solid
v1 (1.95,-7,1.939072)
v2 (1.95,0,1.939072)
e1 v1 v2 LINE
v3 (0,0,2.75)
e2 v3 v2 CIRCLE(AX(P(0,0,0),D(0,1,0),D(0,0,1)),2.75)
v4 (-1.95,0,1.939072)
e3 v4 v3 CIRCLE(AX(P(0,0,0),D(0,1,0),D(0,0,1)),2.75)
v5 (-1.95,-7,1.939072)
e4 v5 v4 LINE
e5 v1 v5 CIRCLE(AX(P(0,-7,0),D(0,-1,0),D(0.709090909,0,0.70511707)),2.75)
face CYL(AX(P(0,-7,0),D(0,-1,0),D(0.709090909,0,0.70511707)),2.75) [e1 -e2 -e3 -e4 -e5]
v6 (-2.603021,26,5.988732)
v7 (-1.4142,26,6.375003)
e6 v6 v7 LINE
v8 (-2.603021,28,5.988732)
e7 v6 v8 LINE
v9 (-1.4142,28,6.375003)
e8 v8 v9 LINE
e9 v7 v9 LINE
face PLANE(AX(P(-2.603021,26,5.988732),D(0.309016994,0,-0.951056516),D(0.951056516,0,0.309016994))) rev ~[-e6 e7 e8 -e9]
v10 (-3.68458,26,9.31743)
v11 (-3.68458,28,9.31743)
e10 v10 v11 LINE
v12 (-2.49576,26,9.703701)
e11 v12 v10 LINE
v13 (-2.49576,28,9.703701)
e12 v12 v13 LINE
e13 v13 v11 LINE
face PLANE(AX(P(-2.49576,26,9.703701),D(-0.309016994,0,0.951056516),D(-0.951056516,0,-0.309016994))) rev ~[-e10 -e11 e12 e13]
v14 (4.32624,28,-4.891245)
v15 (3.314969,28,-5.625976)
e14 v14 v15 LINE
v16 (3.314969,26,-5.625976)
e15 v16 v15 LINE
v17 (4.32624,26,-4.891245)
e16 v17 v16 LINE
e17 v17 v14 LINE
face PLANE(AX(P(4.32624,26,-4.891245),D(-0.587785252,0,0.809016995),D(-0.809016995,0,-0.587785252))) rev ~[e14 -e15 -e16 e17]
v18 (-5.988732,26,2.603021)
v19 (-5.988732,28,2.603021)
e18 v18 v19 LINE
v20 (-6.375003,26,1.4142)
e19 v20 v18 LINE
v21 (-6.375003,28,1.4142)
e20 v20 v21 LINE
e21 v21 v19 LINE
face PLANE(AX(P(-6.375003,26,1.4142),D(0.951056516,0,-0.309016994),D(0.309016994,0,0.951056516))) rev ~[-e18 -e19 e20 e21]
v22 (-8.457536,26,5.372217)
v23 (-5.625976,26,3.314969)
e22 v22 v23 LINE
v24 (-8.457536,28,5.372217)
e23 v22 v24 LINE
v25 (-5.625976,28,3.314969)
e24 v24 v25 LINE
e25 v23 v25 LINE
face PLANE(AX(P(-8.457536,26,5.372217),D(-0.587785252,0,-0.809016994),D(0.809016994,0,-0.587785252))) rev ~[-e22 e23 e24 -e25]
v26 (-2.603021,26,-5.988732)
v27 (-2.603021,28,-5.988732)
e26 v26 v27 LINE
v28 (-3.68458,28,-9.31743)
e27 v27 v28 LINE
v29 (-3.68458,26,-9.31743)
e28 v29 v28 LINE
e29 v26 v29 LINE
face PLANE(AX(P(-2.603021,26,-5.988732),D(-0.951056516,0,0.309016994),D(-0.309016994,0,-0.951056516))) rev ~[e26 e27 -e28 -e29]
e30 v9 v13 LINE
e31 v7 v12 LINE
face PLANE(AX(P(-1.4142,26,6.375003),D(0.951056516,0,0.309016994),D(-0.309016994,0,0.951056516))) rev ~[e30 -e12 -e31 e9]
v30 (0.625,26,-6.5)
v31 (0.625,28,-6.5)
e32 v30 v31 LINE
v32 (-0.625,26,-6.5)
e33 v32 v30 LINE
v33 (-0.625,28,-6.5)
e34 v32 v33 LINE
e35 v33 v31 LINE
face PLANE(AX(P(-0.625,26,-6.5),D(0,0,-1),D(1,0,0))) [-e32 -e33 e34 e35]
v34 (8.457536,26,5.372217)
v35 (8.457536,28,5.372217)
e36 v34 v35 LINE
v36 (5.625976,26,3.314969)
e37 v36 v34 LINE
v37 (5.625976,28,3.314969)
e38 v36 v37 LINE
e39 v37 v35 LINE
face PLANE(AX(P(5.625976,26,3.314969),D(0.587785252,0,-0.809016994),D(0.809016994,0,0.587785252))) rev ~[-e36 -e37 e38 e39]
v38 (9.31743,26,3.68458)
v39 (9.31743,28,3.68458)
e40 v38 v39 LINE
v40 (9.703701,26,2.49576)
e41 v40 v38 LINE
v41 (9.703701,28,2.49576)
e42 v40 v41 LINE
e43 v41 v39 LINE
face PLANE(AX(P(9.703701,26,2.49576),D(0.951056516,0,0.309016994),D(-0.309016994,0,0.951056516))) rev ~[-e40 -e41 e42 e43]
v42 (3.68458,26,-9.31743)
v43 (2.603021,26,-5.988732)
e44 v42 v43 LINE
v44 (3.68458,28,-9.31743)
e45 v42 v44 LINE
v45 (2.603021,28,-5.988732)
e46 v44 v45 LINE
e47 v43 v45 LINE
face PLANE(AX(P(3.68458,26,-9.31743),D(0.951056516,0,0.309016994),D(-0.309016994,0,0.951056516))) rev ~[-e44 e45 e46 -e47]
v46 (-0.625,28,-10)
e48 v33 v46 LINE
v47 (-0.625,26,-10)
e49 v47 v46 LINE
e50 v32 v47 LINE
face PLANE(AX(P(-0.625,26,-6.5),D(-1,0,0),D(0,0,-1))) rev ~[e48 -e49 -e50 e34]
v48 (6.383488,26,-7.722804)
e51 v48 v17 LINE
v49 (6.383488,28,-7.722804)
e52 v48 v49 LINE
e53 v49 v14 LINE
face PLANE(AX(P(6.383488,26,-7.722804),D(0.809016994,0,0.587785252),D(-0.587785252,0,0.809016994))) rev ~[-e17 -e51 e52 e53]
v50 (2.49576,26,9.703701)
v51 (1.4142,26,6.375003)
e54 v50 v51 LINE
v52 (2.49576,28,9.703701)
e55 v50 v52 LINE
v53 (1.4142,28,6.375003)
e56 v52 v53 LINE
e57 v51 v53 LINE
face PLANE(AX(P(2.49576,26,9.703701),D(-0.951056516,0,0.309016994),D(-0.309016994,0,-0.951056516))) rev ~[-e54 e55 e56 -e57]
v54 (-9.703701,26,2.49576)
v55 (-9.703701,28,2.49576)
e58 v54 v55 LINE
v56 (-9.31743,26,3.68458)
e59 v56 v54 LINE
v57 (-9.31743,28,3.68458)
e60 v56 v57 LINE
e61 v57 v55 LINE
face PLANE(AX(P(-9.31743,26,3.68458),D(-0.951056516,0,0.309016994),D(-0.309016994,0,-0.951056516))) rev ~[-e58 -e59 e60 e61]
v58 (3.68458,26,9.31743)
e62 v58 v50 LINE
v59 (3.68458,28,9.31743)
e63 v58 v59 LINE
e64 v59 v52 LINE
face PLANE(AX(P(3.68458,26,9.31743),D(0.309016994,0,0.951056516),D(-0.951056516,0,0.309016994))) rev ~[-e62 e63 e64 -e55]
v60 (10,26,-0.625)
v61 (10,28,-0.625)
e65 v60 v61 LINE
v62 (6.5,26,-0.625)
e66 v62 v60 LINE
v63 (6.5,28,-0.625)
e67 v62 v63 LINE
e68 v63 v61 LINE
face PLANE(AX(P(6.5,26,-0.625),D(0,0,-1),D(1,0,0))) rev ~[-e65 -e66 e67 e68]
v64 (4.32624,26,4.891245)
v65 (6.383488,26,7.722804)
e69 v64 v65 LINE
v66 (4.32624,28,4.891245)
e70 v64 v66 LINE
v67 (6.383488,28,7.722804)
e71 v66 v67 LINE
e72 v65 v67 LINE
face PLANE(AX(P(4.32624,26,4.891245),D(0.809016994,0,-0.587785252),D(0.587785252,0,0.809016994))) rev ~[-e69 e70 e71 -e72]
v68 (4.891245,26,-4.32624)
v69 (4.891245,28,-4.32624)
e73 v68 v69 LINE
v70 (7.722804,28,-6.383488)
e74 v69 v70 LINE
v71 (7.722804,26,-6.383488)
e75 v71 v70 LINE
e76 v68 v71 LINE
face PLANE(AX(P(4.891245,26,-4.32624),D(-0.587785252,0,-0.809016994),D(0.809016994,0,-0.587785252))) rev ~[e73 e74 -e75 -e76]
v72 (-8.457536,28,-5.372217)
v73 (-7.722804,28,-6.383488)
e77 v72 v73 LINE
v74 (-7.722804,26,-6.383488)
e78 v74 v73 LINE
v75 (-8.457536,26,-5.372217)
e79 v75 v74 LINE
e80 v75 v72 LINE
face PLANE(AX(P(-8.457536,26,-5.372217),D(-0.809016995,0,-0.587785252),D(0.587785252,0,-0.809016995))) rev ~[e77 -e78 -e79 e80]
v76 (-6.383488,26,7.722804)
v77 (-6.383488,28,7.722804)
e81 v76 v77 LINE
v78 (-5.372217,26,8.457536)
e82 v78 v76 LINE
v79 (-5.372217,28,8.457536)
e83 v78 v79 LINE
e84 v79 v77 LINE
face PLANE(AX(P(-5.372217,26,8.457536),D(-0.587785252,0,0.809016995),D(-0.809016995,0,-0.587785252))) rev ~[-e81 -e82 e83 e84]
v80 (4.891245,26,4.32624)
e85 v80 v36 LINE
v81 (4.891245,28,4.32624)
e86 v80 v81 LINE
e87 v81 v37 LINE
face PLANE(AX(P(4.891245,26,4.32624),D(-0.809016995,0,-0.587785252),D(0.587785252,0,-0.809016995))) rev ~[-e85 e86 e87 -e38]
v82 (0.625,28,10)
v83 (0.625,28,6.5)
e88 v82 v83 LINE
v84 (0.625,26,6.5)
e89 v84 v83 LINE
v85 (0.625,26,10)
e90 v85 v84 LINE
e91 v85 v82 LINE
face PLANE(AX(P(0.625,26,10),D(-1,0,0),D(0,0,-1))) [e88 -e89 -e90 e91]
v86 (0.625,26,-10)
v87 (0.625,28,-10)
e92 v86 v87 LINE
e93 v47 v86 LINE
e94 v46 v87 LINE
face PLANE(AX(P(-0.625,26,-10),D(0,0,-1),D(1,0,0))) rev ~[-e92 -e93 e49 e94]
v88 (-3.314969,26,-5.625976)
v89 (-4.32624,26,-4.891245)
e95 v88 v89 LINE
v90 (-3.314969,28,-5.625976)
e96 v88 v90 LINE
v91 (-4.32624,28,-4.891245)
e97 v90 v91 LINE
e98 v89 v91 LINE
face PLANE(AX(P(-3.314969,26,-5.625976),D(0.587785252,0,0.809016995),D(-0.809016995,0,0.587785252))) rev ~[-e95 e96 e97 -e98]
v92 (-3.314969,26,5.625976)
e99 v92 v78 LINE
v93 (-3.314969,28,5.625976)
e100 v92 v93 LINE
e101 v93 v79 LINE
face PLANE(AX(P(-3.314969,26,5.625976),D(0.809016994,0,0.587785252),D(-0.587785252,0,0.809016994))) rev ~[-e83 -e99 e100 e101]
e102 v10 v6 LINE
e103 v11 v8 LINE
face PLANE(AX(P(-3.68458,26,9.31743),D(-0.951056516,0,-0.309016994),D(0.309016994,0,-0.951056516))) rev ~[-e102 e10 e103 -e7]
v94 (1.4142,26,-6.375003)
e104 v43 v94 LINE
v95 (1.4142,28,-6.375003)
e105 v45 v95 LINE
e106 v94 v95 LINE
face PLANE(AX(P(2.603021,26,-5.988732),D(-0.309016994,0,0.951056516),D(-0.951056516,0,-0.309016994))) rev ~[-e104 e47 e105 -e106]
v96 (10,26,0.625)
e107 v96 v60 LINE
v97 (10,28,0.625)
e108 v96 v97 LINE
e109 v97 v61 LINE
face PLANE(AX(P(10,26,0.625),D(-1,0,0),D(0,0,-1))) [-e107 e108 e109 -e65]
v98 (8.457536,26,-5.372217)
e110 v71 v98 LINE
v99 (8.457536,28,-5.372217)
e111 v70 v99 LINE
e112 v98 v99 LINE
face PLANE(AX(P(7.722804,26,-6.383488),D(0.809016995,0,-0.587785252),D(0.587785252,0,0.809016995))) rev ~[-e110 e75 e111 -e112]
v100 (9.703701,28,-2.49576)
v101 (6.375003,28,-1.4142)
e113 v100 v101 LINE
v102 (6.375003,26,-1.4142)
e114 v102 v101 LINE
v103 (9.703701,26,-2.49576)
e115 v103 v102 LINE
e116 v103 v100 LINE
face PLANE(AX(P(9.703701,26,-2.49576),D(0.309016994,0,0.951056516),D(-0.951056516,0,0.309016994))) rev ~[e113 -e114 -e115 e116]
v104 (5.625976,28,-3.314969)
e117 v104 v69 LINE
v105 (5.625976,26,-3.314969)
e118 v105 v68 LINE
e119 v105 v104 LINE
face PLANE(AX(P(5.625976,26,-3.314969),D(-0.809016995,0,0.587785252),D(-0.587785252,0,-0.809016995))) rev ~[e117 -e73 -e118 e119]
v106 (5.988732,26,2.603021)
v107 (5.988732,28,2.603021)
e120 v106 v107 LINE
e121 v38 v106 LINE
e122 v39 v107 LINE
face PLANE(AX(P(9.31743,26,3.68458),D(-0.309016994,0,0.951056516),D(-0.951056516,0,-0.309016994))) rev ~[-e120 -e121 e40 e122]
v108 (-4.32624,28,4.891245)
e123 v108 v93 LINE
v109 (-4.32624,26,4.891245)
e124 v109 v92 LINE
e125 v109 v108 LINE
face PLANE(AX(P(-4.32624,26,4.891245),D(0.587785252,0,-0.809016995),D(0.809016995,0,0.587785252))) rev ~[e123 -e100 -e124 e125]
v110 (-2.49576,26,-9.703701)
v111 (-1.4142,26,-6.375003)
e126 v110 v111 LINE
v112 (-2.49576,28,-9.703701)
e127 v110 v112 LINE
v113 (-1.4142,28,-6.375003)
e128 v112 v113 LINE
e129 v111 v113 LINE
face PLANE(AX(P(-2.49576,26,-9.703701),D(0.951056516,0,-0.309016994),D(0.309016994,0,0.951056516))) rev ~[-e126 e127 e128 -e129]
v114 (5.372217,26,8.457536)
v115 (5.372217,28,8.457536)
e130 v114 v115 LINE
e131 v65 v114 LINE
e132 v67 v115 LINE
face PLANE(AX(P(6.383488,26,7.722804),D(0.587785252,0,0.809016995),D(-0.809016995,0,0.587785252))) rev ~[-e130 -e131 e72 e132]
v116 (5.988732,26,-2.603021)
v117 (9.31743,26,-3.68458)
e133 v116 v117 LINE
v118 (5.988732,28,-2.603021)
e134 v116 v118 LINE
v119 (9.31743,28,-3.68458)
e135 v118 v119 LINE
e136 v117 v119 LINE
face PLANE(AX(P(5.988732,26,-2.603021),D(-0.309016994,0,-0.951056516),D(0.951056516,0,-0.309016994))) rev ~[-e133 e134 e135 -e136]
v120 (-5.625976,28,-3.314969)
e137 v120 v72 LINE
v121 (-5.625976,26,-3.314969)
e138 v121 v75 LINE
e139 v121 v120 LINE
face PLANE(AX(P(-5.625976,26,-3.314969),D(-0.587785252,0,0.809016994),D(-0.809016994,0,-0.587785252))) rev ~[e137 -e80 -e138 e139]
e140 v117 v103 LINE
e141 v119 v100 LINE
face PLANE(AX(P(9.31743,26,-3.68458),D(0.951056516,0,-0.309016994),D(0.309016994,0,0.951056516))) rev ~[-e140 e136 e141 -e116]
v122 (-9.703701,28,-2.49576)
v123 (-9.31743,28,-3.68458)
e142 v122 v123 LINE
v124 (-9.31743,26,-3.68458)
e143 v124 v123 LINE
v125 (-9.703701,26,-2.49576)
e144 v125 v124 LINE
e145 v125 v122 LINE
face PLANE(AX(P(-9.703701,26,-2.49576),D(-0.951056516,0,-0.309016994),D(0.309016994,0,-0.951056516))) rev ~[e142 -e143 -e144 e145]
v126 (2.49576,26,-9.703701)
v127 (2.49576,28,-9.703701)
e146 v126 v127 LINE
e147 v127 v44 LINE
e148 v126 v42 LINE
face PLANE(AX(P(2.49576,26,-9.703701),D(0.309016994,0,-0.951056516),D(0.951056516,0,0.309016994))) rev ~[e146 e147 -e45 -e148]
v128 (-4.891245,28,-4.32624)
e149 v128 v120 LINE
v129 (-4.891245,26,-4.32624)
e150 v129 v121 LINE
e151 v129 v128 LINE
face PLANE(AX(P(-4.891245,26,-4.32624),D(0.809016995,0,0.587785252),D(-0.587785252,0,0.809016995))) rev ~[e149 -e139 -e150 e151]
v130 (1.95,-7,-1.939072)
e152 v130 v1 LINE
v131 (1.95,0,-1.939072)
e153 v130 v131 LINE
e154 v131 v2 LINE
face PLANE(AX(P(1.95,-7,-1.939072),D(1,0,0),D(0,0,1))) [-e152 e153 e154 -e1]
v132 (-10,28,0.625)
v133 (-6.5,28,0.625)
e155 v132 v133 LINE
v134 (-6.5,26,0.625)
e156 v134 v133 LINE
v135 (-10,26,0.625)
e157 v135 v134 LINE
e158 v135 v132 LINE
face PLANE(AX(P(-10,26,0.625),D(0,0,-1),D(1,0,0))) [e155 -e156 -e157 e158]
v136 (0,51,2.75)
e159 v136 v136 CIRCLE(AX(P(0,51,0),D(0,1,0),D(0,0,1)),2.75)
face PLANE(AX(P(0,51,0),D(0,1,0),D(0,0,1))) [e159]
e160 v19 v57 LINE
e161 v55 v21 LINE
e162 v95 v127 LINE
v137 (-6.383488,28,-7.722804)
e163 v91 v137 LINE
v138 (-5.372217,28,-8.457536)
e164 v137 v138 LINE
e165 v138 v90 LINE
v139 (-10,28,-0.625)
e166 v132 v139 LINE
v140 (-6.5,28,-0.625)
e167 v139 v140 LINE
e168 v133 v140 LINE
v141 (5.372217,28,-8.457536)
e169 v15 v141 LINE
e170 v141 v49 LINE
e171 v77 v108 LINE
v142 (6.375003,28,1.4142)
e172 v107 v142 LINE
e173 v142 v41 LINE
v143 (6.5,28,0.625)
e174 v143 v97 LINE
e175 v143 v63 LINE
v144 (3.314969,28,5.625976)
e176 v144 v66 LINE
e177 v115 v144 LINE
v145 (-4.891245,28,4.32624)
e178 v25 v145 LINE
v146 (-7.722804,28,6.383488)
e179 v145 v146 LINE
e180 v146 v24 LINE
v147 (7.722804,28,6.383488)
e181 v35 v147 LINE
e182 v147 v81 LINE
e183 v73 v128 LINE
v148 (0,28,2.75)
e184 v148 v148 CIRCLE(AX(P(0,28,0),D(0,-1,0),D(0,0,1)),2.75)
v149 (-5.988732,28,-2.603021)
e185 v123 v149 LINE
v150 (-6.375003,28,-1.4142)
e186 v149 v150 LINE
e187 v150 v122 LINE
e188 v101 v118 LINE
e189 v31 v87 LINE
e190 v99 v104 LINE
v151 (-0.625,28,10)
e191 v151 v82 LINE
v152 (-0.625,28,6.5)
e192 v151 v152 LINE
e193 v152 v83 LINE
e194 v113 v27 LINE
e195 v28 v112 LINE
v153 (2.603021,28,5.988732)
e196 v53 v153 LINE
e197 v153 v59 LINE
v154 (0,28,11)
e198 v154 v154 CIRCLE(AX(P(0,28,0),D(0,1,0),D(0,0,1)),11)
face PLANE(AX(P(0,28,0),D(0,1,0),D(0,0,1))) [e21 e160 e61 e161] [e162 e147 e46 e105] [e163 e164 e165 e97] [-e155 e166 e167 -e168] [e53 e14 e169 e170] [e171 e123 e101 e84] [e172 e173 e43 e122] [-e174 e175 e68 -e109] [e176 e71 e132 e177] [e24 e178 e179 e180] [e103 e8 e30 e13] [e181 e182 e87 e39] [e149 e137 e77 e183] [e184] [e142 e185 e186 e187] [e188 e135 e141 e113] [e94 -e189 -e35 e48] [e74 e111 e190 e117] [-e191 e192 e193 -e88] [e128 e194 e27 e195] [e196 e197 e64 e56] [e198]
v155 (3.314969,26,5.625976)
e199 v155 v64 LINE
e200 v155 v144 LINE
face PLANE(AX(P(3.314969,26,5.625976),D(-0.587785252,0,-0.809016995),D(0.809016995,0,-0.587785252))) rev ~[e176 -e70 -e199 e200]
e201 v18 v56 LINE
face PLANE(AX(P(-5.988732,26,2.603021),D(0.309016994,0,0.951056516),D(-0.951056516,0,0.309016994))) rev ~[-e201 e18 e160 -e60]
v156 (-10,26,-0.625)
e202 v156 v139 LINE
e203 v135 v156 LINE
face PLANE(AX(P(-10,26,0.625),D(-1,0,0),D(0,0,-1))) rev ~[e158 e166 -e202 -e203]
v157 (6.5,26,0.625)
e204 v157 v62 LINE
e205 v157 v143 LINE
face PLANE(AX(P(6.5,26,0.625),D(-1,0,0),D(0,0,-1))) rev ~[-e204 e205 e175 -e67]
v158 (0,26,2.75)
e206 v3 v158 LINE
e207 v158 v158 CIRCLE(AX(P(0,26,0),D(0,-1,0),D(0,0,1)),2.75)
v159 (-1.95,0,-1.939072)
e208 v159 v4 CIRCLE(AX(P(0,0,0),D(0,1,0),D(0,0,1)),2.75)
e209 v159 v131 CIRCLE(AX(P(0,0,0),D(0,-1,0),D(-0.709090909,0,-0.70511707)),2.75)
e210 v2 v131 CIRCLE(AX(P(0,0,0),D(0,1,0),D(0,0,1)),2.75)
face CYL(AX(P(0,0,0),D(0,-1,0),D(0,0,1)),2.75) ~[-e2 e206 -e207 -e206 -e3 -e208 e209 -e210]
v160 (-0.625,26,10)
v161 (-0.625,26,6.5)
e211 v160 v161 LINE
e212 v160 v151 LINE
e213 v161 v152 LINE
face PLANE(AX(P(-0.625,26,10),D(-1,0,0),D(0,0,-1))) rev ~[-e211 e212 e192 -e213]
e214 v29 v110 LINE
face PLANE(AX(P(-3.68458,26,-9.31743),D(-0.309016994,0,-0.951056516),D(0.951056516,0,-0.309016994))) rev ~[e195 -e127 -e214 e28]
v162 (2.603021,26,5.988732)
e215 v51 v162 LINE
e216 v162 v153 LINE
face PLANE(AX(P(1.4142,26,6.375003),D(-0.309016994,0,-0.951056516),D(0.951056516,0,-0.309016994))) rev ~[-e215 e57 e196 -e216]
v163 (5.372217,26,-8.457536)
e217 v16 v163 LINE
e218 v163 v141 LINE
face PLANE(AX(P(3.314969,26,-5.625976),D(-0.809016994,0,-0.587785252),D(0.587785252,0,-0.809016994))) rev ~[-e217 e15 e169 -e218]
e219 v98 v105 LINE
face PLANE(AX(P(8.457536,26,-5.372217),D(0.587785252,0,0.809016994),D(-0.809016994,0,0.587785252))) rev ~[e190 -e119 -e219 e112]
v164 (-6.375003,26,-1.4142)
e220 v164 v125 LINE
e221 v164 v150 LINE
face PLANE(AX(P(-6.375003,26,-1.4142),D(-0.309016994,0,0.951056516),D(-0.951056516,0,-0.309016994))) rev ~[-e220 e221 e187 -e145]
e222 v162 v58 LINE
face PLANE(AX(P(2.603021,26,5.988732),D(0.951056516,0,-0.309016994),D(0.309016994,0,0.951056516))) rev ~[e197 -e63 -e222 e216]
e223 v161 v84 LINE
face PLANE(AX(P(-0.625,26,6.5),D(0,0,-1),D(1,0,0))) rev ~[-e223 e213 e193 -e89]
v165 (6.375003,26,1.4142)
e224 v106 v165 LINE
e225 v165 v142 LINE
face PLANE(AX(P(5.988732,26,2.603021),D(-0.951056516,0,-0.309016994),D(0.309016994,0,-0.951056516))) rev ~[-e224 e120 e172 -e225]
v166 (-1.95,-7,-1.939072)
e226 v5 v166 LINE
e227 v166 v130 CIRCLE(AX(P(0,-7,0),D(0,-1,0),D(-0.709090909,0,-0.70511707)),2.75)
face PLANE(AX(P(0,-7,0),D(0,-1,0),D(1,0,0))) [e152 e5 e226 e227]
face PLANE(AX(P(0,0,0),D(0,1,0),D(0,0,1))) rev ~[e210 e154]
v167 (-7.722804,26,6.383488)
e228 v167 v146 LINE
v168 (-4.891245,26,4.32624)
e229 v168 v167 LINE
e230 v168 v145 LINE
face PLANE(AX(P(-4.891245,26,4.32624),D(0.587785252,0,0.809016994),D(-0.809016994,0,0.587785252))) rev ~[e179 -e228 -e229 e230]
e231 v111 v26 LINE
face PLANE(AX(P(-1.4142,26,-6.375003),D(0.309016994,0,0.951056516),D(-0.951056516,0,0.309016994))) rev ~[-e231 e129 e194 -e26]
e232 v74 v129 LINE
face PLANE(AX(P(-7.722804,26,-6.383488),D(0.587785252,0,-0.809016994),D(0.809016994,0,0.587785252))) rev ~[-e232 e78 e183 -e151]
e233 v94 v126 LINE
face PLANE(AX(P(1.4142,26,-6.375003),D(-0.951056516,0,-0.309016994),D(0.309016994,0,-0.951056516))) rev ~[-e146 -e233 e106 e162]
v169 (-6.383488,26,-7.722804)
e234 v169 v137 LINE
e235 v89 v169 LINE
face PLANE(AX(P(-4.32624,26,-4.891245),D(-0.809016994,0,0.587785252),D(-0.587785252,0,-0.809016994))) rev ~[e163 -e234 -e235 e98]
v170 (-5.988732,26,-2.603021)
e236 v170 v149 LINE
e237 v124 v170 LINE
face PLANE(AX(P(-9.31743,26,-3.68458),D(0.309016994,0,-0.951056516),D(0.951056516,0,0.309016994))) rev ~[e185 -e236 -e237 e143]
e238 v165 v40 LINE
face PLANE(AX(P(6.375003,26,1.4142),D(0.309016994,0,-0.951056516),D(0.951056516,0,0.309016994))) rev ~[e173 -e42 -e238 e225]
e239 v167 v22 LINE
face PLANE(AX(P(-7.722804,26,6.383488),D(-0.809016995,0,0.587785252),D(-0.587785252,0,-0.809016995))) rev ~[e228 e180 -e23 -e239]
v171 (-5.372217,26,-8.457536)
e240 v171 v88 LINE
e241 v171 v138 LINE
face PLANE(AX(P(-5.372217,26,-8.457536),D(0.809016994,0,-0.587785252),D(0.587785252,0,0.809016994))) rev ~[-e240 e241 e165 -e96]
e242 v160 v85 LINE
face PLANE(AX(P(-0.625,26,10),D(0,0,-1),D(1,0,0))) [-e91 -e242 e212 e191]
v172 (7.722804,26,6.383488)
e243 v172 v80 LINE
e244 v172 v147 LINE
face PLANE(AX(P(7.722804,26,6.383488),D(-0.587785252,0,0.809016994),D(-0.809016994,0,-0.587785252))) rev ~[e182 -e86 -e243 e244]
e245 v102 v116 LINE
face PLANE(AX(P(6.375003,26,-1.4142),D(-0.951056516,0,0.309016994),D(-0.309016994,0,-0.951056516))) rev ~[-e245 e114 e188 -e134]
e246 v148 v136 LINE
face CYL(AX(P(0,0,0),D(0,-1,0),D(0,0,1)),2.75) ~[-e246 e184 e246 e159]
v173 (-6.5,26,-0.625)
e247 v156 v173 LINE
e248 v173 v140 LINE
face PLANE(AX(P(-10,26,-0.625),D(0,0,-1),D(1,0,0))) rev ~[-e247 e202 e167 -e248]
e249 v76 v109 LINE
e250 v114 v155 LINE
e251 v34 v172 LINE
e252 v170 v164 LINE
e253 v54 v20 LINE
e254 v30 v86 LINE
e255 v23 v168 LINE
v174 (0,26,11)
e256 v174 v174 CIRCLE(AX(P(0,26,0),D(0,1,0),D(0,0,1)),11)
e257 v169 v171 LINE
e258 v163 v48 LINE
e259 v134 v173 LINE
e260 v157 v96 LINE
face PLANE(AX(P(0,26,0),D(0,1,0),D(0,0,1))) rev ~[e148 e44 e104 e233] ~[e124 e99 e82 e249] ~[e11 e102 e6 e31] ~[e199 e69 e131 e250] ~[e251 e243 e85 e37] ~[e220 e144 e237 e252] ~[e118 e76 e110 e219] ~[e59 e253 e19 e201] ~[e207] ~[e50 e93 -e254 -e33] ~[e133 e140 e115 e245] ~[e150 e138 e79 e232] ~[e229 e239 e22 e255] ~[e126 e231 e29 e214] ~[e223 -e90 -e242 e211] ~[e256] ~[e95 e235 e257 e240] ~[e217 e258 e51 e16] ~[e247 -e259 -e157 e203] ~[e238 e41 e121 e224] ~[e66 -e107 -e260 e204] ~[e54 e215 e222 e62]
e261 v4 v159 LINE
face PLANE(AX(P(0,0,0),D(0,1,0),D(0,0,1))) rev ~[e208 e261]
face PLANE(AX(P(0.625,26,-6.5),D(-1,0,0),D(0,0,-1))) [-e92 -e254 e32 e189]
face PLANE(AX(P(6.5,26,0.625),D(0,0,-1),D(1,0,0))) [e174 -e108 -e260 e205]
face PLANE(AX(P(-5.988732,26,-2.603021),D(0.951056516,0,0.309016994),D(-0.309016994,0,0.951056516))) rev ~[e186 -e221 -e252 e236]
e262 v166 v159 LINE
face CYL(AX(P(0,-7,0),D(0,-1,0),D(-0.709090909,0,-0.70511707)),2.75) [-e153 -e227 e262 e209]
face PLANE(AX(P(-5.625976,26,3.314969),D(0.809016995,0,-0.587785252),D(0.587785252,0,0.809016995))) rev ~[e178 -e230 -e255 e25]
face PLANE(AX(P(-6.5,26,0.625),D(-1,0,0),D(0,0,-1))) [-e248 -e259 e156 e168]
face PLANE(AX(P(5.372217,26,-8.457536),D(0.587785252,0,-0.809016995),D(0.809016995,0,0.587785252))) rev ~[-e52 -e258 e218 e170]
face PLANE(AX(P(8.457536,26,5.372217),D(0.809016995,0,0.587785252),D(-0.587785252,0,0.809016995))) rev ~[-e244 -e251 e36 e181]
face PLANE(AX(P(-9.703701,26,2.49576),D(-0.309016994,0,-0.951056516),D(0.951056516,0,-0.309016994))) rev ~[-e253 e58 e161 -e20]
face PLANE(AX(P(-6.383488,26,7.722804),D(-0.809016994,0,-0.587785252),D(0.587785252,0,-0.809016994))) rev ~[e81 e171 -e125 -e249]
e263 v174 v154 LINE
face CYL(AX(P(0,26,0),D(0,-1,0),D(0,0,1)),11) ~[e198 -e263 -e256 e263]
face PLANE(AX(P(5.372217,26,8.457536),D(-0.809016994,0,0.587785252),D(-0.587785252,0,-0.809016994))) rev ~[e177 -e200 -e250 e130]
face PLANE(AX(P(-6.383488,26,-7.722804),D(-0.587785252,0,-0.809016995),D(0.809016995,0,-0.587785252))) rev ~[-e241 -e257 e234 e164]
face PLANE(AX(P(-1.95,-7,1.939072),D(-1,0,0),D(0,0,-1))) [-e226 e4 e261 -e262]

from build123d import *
from build123d.topology import SkipClean

# Parameters (mm, degrees)
SKETCH_1_R      = 2.75
EXTRUDE_1_DEPTH = 51
EXTRUDE_START   = 7
EXTRUDE_2_DEPTH = 7
EXTRUDE_START_2 = -25
SKETCH_6_R      = 11
SKETCH_6_W      = 1.25
SKETCH_6_H      = 3.5
SKETCH_6_W_2    = 3.5
SKETCH_6_H_2    = 1.25
EXTRUDE_4_DEPTH = 2


with BuildPart() as part:
    # 草图1 → 凸台-拉伸1 (new body)
    with BuildSketch(Plane(origin=(0, 0, 0), x_dir=(1, 0, 0), z_dir=(0, 1, 0))):
        Circle(SKETCH_1_R)
    extrude(amount=EXTRUDE_1_DEPTH)

    # 草图2 → 凸台-拉伸2 (add)
    with SkipClean():  # the faces are left unmerged after this step: merging them gives an invalid solid
        with BuildSketch(Plane.XZ.offset(EXTRUDE_START)):
            with BuildLine():
                Line((-1.95, 1.939071943), (-1.95, -1.939071943))
                ThreePointArc((-1.95, -1.939071943), (0, -2.75), (1.95, -1.939071943))
                Line((1.95, -1.939071943), (1.95, 1.939071943))
                ThreePointArc((1.95, 1.939071943), (0, 2.75), (-1.95, 1.939071943))
            make_face()
        extrude(amount=-EXTRUDE_2_DEPTH)

    # 草图6 → 凸台-拉伸4 (add)
    with SkipClean():  # the faces are left unmerged after this step: merging them gives an invalid solid
        with BuildSketch(Plane(origin=(0, 51, 0), x_dir=(1, 0, 0), z_dir=(0, 1, 0)).offset(EXTRUDE_START_2)):
            Circle(SKETCH_6_R)
            Polygon((2.495759621, 9.703700784), (3.684580266, 9.317429541), (2.603020786, 5.988731734), (1.414200141, 6.375002977), align=None, mode=Mode.SUBTRACT)
            with Locations((0, 8.25)):
                Rectangle(SKETCH_6_W, SKETCH_6_H, mode=Mode.SUBTRACT)
            Polygon((5.372216901, 8.457535726), (6.383488144, 7.722804161), (4.326239761, 4.891244681), (3.314968518, 5.625976246), align=None, mode=Mode.SUBTRACT)
            Polygon((7.722804161, 6.383488144), (8.457535726, 5.372216901), (5.625976246, 3.314968518), (4.891244681, 4.326239761), align=None, mode=Mode.SUBTRACT)
            Polygon((9.317429541, 3.684580266), (9.703700784, 2.495759621), (6.375002977, 1.414200141), (5.988731734, 2.603020786), align=None, mode=Mode.SUBTRACT)
            with Locations((8.25, 0)):
                Rectangle(SKETCH_6_W_2, SKETCH_6_H_2, mode=Mode.SUBTRACT)
            Polygon((9.703700784, -2.495759621), (9.317429541, -3.684580266), (5.988731734, -2.603020786), (6.375002977, -1.414200141), align=None, mode=Mode.SUBTRACT)
            Polygon((8.457535726, -5.372216901), (7.722804161, -6.383488144), (4.891244681, -4.326239761), (5.625976246, -3.314968518), align=None, mode=Mode.SUBTRACT)
            Polygon((6.383488144, -7.722804161), (5.372216901, -8.457535726), (3.314968518, -5.625976246), (4.326239761, -4.891244681), align=None, mode=Mode.SUBTRACT)
            Polygon((3.684580266, -9.317429541), (2.495759621, -9.703700784), (1.414200141, -6.375002977), (2.603020786, -5.988731734), align=None, mode=Mode.SUBTRACT)
            with Locations((0, -8.25)):
                Rectangle(SKETCH_6_W, SKETCH_6_H, mode=Mode.SUBTRACT)
            Polygon((-2.495759621, -9.703700784), (-3.684580266, -9.317429541), (-2.603020786, -5.988731734), (-1.414200141, -6.375002977), align=None, mode=Mode.SUBTRACT)
            Polygon((-5.372216901, -8.457535726), (-6.383488144, -7.722804161), (-4.326239761, -4.891244681), (-3.314968518, -5.625976246), align=None, mode=Mode.SUBTRACT)
            Polygon((-7.722804161, -6.383488144), (-8.457535726, -5.372216901), (-5.625976246, -3.314968518), (-4.891244681, -4.326239761), align=None, mode=Mode.SUBTRACT)
            Polygon((-9.317429541, -3.684580266), (-9.703700784, -2.495759621), (-6.375002977, -1.414200141), (-5.988731734, -2.603020786), align=None, mode=Mode.SUBTRACT)
            with Locations((-8.25, 0)):
                Rectangle(SKETCH_6_W_2, SKETCH_6_H_2, mode=Mode.SUBTRACT)
            Polygon((-9.703700784, 2.495759621), (-9.317429541, 3.684580266), (-5.988731734, 2.603020786), (-6.375002977, 1.414200141), align=None, mode=Mode.SUBTRACT)
            Polygon((-8.457535726, 5.372216901), (-7.722804161, 6.383488144), (-4.891244681, 4.326239761), (-5.625976246, 3.314968518), align=None, mode=Mode.SUBTRACT)
            Polygon((-6.383488144, 7.722804161), (-5.372216901, 8.457535726), (-3.314968518, 5.625976246), (-4.326239761, 4.891244681), align=None, mode=Mode.SUBTRACT)
            Polygon((-3.684580266, 9.317429541), (-2.495759621, 9.703700784), (-1.414200141, 6.375002977), (-2.603020786, 5.988731734), align=None, mode=Mode.SUBTRACT)
        extrude(amount=EXTRUDE_4_DEPTH)


solid = part.part
